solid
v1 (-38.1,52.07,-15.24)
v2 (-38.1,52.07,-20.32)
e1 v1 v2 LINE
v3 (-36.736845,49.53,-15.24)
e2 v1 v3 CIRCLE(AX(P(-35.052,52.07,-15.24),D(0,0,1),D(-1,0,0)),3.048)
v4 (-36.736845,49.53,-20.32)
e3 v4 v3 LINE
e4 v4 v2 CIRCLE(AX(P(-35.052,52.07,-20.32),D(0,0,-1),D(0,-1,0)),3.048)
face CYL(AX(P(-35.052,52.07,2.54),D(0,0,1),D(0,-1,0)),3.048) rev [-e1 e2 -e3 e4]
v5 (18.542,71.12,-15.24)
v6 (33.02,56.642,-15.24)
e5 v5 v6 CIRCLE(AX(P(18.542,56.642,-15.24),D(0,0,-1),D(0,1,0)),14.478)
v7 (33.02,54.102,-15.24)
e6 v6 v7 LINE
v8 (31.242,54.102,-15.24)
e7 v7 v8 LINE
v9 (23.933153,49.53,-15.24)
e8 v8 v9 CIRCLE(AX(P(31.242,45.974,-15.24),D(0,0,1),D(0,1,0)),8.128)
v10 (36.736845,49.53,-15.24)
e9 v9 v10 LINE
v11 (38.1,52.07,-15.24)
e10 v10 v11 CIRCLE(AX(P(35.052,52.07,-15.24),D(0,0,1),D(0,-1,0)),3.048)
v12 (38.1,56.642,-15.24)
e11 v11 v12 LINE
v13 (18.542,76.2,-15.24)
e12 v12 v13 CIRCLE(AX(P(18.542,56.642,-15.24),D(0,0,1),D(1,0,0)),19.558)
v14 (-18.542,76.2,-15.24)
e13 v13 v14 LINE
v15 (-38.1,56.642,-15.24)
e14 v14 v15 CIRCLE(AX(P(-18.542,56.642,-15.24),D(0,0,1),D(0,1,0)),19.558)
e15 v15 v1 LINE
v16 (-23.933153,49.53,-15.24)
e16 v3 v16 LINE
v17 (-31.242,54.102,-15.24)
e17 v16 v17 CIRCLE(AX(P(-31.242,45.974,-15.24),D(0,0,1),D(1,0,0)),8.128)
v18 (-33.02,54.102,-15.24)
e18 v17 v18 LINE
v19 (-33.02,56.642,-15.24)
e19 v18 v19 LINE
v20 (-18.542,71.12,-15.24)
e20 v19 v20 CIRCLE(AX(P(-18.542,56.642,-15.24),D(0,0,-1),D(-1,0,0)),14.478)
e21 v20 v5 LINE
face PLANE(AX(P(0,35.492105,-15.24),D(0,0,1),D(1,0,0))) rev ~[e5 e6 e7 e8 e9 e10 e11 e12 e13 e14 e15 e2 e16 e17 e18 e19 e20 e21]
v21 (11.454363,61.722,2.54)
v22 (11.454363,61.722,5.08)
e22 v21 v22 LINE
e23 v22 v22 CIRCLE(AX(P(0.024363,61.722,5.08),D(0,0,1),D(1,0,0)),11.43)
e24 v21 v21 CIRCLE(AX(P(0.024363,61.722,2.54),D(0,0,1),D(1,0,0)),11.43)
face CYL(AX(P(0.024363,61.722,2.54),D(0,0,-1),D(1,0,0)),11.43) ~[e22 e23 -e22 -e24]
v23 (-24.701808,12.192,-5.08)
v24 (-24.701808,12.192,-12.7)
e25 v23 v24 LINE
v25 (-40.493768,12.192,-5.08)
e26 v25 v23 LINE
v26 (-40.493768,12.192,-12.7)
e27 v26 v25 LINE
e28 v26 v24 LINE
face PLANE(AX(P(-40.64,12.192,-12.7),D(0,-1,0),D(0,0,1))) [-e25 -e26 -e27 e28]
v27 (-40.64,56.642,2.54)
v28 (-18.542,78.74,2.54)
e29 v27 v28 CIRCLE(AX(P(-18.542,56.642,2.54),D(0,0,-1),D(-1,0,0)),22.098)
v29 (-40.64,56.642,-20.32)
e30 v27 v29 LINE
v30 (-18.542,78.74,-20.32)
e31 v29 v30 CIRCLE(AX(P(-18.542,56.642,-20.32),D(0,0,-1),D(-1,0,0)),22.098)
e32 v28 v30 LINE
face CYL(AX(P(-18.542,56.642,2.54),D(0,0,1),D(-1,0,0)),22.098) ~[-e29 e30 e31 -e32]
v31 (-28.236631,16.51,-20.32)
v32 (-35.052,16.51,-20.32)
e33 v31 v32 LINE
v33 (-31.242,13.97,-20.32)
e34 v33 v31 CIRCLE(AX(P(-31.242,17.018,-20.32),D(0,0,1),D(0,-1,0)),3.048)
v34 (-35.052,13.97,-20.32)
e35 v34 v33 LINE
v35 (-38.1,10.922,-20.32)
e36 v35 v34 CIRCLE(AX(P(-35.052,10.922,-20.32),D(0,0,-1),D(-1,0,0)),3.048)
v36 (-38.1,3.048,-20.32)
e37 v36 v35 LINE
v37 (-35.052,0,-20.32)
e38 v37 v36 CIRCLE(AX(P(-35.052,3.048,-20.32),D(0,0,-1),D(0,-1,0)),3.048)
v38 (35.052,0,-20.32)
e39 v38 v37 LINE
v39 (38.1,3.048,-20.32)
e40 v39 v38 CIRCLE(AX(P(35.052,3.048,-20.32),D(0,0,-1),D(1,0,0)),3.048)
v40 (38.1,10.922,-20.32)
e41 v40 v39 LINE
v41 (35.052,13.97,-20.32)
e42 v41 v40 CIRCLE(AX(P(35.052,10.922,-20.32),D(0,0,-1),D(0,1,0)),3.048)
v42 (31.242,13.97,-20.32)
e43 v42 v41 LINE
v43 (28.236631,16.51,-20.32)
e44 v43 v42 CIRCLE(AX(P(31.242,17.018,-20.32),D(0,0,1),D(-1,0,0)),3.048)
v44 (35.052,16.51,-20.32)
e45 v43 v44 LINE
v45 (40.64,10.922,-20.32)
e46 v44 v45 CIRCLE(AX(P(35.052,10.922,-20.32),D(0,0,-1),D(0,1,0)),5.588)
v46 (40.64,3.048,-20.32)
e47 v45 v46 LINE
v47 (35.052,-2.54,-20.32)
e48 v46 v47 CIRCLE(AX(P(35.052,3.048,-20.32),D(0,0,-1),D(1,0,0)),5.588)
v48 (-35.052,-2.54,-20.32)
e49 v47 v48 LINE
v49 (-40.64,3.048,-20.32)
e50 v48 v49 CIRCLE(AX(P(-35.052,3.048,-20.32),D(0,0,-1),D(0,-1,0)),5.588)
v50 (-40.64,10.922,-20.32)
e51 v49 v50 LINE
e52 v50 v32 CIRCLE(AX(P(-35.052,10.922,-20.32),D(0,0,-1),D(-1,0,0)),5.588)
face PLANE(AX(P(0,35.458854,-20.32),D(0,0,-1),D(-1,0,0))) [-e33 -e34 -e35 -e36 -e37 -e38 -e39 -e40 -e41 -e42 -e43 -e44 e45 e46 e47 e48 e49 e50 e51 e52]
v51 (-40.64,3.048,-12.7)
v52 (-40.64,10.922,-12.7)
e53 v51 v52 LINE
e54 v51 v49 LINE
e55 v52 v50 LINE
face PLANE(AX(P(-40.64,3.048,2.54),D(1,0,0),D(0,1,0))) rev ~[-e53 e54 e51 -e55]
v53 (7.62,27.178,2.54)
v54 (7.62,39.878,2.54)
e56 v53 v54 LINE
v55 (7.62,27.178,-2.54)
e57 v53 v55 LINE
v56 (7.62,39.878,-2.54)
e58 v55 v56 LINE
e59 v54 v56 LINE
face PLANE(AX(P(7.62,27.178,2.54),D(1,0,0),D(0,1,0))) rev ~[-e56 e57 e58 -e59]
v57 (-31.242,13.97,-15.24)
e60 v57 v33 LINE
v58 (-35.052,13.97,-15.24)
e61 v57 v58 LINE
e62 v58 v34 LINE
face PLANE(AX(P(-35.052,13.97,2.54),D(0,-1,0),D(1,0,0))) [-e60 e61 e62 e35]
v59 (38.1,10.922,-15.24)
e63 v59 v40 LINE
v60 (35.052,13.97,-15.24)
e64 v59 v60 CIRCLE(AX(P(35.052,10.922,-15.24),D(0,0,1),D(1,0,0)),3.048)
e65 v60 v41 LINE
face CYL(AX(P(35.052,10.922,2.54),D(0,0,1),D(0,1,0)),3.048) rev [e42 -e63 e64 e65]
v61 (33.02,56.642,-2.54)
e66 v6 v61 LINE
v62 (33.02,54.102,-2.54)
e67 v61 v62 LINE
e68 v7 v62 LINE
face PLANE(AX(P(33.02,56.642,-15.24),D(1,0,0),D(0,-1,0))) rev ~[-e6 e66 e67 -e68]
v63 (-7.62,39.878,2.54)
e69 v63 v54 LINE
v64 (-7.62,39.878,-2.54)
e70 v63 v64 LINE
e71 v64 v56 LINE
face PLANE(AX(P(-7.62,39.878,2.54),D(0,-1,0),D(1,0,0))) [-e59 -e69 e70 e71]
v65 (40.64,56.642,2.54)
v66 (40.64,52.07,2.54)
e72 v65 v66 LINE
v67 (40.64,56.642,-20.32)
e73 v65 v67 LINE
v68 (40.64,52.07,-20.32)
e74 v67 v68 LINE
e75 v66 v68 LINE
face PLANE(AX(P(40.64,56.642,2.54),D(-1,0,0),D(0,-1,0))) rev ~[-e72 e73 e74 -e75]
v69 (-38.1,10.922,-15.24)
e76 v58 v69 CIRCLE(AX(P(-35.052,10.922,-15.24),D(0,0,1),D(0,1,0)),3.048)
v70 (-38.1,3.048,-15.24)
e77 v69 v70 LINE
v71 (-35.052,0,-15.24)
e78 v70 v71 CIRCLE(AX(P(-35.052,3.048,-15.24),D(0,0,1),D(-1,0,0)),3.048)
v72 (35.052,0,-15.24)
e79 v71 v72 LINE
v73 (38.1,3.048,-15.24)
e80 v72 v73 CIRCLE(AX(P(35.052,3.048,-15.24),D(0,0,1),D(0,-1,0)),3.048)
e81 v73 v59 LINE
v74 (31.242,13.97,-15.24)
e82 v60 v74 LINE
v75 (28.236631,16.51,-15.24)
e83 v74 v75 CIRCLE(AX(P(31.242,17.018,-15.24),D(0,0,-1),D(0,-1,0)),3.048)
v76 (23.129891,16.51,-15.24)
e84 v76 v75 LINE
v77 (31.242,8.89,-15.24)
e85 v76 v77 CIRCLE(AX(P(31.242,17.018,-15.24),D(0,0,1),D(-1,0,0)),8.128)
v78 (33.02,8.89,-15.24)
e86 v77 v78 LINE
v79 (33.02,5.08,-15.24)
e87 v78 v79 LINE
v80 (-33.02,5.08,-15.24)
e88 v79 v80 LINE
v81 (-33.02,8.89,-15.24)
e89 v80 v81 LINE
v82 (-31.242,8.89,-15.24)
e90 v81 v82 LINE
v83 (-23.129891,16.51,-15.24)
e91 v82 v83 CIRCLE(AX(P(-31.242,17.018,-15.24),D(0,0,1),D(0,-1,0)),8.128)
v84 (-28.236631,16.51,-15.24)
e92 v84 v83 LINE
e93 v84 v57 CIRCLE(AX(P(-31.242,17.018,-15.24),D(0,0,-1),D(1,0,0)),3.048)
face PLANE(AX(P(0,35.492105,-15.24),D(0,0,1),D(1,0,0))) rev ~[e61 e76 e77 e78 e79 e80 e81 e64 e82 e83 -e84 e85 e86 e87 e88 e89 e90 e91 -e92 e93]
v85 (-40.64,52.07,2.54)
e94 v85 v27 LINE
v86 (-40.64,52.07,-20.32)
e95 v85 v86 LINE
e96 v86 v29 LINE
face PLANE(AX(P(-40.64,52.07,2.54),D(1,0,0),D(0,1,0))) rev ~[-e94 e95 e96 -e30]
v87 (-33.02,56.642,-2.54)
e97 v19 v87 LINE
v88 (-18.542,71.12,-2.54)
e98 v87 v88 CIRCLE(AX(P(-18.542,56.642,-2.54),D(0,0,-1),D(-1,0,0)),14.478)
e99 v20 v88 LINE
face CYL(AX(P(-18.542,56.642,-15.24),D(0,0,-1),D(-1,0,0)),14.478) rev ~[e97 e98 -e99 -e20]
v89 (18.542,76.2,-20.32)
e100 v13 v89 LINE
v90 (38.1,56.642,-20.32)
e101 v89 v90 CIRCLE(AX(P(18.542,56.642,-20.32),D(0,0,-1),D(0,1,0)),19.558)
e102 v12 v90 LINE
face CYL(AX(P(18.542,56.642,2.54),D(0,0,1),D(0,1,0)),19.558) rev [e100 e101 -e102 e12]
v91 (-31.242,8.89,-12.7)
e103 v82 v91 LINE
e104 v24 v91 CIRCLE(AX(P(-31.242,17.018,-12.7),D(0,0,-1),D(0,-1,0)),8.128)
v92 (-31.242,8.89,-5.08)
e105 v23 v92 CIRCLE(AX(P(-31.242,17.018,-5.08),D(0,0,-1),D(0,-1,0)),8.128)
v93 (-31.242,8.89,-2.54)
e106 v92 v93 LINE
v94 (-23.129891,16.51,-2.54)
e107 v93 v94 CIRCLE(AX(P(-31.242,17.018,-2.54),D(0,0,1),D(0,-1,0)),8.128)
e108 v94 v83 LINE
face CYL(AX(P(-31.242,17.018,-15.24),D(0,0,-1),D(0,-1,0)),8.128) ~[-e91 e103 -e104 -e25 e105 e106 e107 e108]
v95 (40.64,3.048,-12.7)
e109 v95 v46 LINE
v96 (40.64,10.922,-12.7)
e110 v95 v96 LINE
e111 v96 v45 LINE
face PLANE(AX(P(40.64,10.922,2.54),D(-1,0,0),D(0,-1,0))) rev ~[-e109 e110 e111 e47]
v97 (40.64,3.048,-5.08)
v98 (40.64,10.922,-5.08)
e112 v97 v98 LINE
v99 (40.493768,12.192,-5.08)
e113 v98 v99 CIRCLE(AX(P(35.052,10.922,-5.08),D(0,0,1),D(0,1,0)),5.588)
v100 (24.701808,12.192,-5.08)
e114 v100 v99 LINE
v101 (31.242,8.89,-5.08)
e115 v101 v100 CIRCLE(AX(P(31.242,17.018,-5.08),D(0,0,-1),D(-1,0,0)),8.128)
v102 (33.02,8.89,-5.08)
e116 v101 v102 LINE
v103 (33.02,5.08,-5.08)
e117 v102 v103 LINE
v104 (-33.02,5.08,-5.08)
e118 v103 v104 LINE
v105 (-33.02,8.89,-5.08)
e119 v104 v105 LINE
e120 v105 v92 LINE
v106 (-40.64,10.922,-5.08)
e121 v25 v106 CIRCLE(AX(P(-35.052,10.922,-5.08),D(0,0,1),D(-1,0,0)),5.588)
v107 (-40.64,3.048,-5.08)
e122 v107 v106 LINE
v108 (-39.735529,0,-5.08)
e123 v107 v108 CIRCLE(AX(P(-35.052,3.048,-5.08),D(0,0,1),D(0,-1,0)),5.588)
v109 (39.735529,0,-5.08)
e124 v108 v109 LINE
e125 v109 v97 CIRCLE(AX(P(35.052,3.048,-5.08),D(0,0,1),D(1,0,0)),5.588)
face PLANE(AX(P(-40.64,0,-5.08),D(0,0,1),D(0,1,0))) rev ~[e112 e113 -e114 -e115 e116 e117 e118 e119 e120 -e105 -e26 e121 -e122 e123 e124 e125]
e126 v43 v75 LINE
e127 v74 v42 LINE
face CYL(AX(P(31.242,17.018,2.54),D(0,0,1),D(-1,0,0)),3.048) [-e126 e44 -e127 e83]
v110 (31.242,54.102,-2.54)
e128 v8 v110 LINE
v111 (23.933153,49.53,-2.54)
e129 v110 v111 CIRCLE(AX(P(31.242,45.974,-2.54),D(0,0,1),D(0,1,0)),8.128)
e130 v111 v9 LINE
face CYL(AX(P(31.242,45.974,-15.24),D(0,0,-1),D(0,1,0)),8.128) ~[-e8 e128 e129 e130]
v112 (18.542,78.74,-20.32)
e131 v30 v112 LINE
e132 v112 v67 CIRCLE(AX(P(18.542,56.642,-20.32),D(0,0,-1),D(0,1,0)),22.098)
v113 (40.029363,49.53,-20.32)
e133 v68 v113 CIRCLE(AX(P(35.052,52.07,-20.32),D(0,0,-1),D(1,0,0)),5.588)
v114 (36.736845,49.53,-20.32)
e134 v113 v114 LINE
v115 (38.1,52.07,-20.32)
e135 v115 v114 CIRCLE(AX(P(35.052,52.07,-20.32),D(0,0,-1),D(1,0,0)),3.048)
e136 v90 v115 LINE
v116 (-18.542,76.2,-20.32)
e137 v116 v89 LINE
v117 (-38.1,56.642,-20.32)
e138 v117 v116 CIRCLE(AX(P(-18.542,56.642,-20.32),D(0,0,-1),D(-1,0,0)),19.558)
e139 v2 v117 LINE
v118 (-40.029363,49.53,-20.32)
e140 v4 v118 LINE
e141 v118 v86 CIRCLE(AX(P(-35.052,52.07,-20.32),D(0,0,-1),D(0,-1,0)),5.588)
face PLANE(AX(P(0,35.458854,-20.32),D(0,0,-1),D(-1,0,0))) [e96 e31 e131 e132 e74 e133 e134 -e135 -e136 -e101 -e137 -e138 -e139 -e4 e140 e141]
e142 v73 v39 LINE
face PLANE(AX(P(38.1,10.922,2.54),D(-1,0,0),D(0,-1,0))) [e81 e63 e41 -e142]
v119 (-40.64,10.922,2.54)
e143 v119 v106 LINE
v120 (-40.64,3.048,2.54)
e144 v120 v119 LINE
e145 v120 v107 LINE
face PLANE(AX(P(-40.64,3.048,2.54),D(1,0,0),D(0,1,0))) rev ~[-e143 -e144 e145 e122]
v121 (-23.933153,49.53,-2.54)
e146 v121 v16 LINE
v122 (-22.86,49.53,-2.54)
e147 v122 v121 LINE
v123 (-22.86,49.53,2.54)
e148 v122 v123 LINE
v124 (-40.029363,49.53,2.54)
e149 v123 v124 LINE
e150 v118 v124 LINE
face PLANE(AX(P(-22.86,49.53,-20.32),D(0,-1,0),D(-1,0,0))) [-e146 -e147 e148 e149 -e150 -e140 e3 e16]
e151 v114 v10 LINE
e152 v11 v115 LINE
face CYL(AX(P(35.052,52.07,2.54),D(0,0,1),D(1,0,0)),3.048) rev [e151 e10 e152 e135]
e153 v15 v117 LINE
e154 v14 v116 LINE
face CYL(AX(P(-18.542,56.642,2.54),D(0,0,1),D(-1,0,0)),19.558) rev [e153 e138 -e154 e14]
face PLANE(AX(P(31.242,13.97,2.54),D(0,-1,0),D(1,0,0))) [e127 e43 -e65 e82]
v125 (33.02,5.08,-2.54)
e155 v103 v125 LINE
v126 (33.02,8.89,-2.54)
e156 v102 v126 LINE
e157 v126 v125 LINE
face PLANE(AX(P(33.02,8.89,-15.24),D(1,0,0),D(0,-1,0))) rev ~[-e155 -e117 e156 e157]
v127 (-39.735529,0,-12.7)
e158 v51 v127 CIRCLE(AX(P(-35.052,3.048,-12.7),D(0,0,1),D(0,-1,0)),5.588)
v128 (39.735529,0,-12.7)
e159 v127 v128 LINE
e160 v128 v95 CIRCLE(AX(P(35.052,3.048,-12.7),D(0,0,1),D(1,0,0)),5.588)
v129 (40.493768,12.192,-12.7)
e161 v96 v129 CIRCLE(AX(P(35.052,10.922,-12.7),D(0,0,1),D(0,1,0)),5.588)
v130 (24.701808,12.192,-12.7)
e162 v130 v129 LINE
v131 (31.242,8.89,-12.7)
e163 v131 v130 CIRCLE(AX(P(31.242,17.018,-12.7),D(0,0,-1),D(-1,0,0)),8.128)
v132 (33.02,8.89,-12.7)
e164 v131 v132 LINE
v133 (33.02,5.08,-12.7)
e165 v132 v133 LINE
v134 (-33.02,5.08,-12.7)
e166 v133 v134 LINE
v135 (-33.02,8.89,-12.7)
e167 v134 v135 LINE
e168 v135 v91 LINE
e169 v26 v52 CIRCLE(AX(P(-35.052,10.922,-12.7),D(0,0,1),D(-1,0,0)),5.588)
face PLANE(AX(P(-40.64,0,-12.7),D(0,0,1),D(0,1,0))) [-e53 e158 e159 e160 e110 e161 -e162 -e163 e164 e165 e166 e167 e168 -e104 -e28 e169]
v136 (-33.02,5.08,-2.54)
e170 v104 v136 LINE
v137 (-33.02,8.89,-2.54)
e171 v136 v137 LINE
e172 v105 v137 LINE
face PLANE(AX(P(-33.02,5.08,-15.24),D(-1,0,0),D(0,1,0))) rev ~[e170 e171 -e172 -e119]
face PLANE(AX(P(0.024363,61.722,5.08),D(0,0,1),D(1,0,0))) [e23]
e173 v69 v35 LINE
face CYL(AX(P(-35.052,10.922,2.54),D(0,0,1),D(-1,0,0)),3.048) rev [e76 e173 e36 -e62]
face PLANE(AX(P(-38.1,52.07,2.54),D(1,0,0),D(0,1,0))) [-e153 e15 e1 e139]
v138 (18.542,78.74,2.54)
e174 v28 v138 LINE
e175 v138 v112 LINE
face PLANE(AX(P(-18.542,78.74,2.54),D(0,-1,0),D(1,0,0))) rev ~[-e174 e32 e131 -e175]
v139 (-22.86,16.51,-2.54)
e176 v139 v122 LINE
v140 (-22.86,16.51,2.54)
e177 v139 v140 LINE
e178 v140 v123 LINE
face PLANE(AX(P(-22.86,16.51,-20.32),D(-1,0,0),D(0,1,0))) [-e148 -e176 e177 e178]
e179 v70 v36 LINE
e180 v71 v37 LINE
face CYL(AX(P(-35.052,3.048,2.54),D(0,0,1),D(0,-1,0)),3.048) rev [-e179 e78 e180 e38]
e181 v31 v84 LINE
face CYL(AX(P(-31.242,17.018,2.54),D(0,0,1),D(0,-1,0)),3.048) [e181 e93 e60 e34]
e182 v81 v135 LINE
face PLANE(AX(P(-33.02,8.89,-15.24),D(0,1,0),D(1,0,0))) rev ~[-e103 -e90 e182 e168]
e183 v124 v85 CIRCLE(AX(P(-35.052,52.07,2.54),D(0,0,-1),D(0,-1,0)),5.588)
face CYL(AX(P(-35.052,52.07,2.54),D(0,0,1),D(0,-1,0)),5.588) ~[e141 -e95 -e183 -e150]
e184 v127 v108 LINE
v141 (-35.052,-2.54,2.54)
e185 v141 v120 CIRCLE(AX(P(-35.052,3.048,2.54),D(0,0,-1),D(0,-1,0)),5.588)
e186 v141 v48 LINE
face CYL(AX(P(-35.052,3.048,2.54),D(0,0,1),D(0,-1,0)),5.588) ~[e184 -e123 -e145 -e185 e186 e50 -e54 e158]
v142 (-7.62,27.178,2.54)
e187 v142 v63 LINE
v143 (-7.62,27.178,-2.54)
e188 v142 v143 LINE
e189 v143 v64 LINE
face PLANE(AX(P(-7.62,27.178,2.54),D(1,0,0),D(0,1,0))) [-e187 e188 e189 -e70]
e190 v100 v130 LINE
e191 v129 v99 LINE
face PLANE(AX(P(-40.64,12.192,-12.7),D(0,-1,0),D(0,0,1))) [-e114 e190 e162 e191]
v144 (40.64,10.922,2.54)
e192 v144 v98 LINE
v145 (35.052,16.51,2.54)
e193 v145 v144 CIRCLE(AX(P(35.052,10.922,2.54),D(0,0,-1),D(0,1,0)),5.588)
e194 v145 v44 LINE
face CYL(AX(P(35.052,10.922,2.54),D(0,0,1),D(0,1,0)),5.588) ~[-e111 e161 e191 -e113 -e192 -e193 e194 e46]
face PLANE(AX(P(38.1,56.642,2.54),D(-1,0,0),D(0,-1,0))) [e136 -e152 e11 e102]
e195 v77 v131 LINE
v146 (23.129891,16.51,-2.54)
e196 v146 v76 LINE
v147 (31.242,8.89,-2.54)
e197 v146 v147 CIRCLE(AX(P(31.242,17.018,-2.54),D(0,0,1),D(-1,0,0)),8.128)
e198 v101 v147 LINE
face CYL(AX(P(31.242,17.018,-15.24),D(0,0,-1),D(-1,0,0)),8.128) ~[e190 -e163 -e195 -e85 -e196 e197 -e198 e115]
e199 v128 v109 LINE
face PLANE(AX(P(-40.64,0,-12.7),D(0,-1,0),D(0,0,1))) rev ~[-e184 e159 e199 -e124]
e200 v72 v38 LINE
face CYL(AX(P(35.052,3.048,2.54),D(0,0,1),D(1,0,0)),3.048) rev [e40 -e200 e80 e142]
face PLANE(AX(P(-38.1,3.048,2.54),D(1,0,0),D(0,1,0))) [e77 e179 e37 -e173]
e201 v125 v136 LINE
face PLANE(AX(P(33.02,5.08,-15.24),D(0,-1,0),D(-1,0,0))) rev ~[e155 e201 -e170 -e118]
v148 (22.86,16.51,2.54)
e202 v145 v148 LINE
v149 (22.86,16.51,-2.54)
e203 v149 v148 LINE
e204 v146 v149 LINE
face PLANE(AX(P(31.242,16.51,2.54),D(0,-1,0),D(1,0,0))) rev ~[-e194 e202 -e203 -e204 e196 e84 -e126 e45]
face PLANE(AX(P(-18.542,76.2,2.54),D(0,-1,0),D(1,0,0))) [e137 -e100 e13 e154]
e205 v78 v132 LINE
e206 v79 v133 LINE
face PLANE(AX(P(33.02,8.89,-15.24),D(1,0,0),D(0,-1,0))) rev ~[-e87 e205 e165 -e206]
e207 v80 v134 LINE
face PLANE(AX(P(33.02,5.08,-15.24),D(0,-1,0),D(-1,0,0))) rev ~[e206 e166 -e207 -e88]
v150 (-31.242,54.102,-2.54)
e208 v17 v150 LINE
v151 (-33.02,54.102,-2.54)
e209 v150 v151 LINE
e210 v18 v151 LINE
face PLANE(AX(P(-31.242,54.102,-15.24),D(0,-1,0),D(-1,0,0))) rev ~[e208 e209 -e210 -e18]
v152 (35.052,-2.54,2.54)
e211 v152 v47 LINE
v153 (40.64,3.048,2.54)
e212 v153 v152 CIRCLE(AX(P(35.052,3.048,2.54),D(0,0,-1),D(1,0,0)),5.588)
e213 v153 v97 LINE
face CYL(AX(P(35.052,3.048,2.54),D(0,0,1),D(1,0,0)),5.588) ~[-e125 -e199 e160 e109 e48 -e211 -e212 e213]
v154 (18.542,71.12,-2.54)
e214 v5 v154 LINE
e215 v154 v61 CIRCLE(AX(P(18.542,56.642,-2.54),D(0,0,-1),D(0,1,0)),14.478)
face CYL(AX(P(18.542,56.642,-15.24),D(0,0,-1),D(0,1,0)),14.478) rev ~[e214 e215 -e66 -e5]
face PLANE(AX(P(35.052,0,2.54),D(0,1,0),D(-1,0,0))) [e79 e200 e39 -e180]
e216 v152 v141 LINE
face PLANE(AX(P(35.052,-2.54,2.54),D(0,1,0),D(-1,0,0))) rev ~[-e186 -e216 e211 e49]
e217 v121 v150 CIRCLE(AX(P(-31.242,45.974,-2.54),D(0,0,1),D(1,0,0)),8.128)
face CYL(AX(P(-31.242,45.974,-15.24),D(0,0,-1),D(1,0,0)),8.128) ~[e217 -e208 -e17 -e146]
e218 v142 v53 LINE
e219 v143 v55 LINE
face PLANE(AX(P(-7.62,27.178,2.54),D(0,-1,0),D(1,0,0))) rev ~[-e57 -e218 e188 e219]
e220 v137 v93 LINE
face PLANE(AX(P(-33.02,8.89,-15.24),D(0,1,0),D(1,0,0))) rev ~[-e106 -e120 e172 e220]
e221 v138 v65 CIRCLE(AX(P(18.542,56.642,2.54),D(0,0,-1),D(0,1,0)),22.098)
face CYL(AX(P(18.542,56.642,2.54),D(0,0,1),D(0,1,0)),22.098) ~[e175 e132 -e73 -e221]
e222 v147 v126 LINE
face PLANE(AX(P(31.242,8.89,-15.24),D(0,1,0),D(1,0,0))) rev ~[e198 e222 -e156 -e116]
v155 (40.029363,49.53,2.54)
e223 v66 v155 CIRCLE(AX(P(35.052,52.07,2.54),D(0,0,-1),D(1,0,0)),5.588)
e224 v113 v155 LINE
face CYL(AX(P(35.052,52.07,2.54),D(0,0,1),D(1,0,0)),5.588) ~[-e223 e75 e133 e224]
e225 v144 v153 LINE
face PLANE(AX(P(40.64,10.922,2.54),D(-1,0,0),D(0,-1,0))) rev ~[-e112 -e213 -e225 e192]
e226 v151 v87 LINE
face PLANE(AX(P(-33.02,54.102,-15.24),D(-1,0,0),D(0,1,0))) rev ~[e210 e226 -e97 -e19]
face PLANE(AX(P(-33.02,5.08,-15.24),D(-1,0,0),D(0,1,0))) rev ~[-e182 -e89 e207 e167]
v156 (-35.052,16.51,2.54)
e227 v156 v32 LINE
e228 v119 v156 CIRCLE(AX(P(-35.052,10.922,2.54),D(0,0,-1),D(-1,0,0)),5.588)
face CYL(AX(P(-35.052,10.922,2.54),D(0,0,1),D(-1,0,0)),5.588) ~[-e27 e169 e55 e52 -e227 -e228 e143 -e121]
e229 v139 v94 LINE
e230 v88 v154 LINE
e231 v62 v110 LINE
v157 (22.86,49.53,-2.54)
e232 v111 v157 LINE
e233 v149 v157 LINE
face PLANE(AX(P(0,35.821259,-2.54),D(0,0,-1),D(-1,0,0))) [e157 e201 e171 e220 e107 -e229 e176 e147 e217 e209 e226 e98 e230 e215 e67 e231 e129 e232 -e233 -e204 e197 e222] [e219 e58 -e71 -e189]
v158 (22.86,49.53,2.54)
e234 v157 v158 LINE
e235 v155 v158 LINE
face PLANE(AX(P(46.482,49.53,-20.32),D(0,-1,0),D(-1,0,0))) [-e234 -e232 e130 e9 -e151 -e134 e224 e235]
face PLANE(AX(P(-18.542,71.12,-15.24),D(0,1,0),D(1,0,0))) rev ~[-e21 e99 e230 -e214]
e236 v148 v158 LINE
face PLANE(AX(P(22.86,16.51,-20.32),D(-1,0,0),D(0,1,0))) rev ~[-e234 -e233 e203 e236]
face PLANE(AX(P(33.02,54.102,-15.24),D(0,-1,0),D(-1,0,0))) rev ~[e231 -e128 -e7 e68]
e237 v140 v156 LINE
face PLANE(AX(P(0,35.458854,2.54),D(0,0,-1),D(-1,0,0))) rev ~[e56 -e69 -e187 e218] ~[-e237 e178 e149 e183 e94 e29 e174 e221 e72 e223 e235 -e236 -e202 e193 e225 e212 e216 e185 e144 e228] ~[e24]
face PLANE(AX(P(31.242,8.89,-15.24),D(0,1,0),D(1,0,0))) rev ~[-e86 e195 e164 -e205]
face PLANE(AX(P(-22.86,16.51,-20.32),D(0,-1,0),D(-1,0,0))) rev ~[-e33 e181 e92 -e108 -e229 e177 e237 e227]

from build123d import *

# Parameters (mm, degrees)
BOSS_EXTRUDE1_DEPTH      = 17.78
CUT_EXTRUDE1_DEPTH       = 12.7
BOSS_EXTRUDE2_DEPTH      = 5.08
BOSS_EXTRUDE2_DEPTH_BACK = 17.78
CUT_EXTRUDE2_REACH       = 93.511
SKETCH8_W                = 23.622
SKETCH8_H                = 33.02
CUT_EXTRUDE3_REACH       = 116.975
SKETCH9_W                = 7.62
SKETCH9_H                = 12.192
SKETCH10_W               = 15.24
SKETCH10_H               = 12.7
CUT_EXTRUDE4_DEPTH       = 5.08
SKETCH11_R               = 11.43
BOSS_EXTRUDE3_DEPTH      = 2.54


with BuildPart() as part:
    # Sketch1 → Boss-Extrude1 (new body)
    with BuildSketch(Plane.XY.offset(2.54)):
        with BuildLine():
            Line((-35.052, 0), (35.052, 0))
            ThreePointArc((35.052, 0), (37.207261469, 0.892738531), (38.1, 3.048))
            Line((38.1, 3.048), (38.1, 10.922))
            ThreePointArc((38.1, 10.922), (37.207261469, 13.077261469), (35.052, 13.97))
            Line((35.052, 13.97), (31.242, 13.97))
            ThreePointArc((31.242, 13.97), (29.086738531, 14.862738531), (28.194, 17.018))
            Line((28.194, 17.018), (28.194, 45.974))
            ThreePointArc((28.194, 45.974), (29.086738531, 48.129261469), (31.242, 49.022))
            Line((31.242, 49.022), (35.052, 49.022))
            ThreePointArc((35.052, 49.022), (37.207261469, 49.914738531), (38.1, 52.07))
            Line((38.1, 52.07), (38.1, 56.642))
            ThreePointArc((38.1, 56.642), (32.371594426, 70.471594426), (18.542, 76.2))
            Line((18.542, 76.2), (-18.542, 76.2))
            ThreePointArc((-18.542, 76.2), (-32.371594426, 70.471594426), (-38.1, 56.642))
            Line((-38.1, 56.642), (-38.1, 52.07))
            ThreePointArc((-38.1, 52.07), (-37.207261469, 49.914738531), (-35.052, 49.022))
            Line((-35.052, 49.022), (-31.242, 49.022))
            ThreePointArc((-31.242, 49.022), (-29.086738531, 48.129261469), (-28.194, 45.974))
            Line((-28.194, 45.974), (-28.194, 17.018))
            ThreePointArc((-28.194, 17.018), (-29.086738531, 14.862738531), (-31.242, 13.97))
            Line((-31.242, 13.97), (-35.052, 13.97))
            ThreePointArc((-35.052, 13.97), (-37.207261469, 13.077261469), (-38.1, 10.922))
            Line((-38.1, 10.922), (-38.1, 3.048))
            ThreePointArc((-38.1, 3.048), (-37.207261469, 0.892738531), (-35.052, 0))
        make_face()
    extrude(amount=-BOSS_EXTRUDE1_DEPTH)

    # Sketch2 → Cut-Extrude1 (cut)
    with BuildSketch(Plane(origin=(0, 0, -15.24), x_dir=(-1, 0, 0), z_dir=(0, 0, -1))):
        with BuildLine():
            Line((33.02, 54.102), (33.02, 56.642))
            ThreePointArc((33.02, 56.642), (28.779491978, 66.879491978), (18.542, 71.12))
            Line((18.542, 71.12), (-18.542, 71.12))
            ThreePointArc((-18.542, 71.12), (-28.779491978, 66.879491978), (-33.02, 56.642))
            Line((-33.02, 56.642), (-33.02, 54.102))
            Line((-33.02, 54.102), (-31.242, 54.102))
            ThreePointArc((-31.242, 54.102), (-25.494636083, 51.721363917), (-23.114, 45.974))
            Line((-23.114, 45.974), (-23.114, 17.018))
            ThreePointArc((-23.114, 17.018), (-25.494636083, 11.270636083), (-31.242, 8.89))
            Line((-31.242, 8.89), (-33.02, 8.89))
            Line((-33.02, 8.89), (-33.02, 5.08))
            Line((-33.02, 5.08), (33.02, 5.08))
            Line((33.02, 5.08), (33.02, 8.89))
            Line((33.02, 8.89), (31.242, 8.89))
            ThreePointArc((31.242, 8.89), (25.494636083, 11.270636083), (23.114, 17.018))
            Line((23.114, 17.018), (23.114, 45.974))
            ThreePointArc((23.114, 45.974), (25.494636083, 51.721363917), (31.242, 54.102))
            Line((31.242, 54.102), (33.02, 54.102))
        make_face()
    extrude(amount=-CUT_EXTRUDE1_DEPTH, mode=Mode.SUBTRACT)

    # Sketch7 → Boss-Extrude2 (add, two sides: drawn at the far end of the back side and taken through both)
    with BuildSketch(Plane(origin=(0, 0, -15.24), x_dir=(-1, 0, 0), z_dir=(0, 0, -1)).offset(-BOSS_EXTRUDE2_DEPTH_BACK)):
        with BuildLine():
            Line((18.542, 78.74), (-18.542, 78.74))
            ThreePointArc((-18.542, 78.74), (-34.167645651, 72.267645651), (-40.64, 56.642))
            Line((-40.64, 56.642), (-40.64, 52.07))
            ThreePointArc((-40.64, 52.07), (-39.003312693, 48.118687307), (-35.052, 46.482))
            Line((-35.052, 46.482), (-31.242, 46.482))
            ThreePointArc((-31.242, 46.482), (-30.882789755, 46.333210245), (-30.734, 45.974))
            Line((-30.734, 45.974), (-30.734, 17.018))
            ThreePointArc((-30.734, 17.018), (-30.882789755, 16.658789755), (-31.242, 16.51))
            Line((-31.242, 16.51), (-35.052, 16.51))
            ThreePointArc((-35.052, 16.51), (-39.003312693, 14.873312693), (-40.64, 10.922))
            Line((-40.64, 10.922), (-40.64, 3.048))
            ThreePointArc((-40.64, 3.048), (-39.003312693, -0.903312693), (-35.052, -2.54))
            Line((-35.052, -2.54), (35.052, -2.54))
            ThreePointArc((35.052, -2.54), (39.003312693, -0.903312693), (40.64, 3.048))
            Line((40.64, 3.048), (40.64, 10.922))
            ThreePointArc((40.64, 10.922), (39.003312693, 14.873312693), (35.052, 16.51))
            Line((35.052, 16.51), (31.242, 16.51))
            ThreePointArc((31.242, 16.51), (30.882789755, 16.658789755), (30.734, 17.018))
            Line((30.734, 17.018), (30.734, 45.974))
            ThreePointArc((30.734, 45.974), (30.882789755, 46.333210245), (31.242, 46.482))
            Line((31.242, 46.482), (35.052, 46.482))
            ThreePointArc((35.052, 46.482), (39.003312693, 48.118687307), (40.64, 52.07))
            Line((40.64, 52.07), (40.64, 56.642))
            ThreePointArc((40.64, 56.642), (34.167645651, 72.267645651), (18.542, 78.74))
        make_face()
        with BuildLine():
            ThreePointArc((-38.1, 52.07), (-37.207261469, 49.914738531), (-35.052, 49.022))
            Line((-35.052, 49.022), (-31.242, 49.022))
            ThreePointArc((-31.242, 49.022), (-29.086738531, 48.129261469), (-28.194, 45.974))
            Line((-28.194, 45.974), (-28.194, 17.018))
            ThreePointArc((-28.194, 17.018), (-29.086738531, 14.862738531), (-31.242, 13.97))
            Line((-31.242, 13.97), (-35.052, 13.97))
            ThreePointArc((-35.052, 13.97), (-37.207261469, 13.077261469), (-38.1, 10.922))
            Line((-38.1, 10.922), (-38.1, 3.048))
            ThreePointArc((-38.1, 3.048), (-37.207261469, 0.892738531), (-35.052, 0))
            Line((-35.052, 0), (35.052, 0))
            ThreePointArc((35.052, 0), (37.207261469, 0.892738531), (38.1, 3.048))
            Line((38.1, 3.048), (38.1, 10.922))
            ThreePointArc((38.1, 10.922), (37.207261469, 13.077261469), (35.052, 13.97))
            Line((35.052, 13.97), (31.242, 13.97))
            ThreePointArc((31.242, 13.97), (29.086738531, 14.862738531), (28.194, 17.018))
            Line((28.194, 17.018), (28.194, 45.974))
            ThreePointArc((28.194, 45.974), (29.086738531, 48.129261469), (31.242, 49.022))
            Line((31.242, 49.022), (35.052, 49.022))
            ThreePointArc((35.052, 49.022), (37.207261469, 49.914738531), (38.1, 52.07))
            Line((38.1, 52.07), (38.1, 56.642))
            ThreePointArc((38.1, 56.642), (32.371594426, 70.471594426), (18.542, 76.2))
            Line((18.542, 76.2), (-18.542, 76.2))
            ThreePointArc((-18.542, 76.2), (-32.371594426, 70.471594426), (-38.1, 56.642))
            Line((-38.1, 56.642), (-38.1, 52.07))
        make_face(mode=Mode.SUBTRACT)
    extrude(amount=BOSS_EXTRUDE2_DEPTH + BOSS_EXTRUDE2_DEPTH_BACK)

    # Cut-Extrude2: up to this face of the body (flat: up to its plane)
    cut_extrude2_end = Plane(part.part.faces().sort_by_distance((0, 37.604047464, 2.54))[0])
    # Sketch8 → Cut-Extrude2 (cut, up to the picked face)
    with BuildSketch(Plane(origin=(0, 0, -20.32), x_dir=(-1, 0, 0), z_dir=(0, 0, -1)), mode=Mode.PRIVATE) as cut_extrude2_sk1:
        with Locations((-34.671, 33.02)):
            Rectangle(SKETCH8_W, SKETCH8_H)
    cut_extrude2_tool1 = split(extrude(cut_extrude2_sk1.sketch, amount=-CUT_EXTRUDE2_REACH, mode=Mode.PRIVATE), bisect_by=cut_extrude2_end, keep=Keep.BOTH, mode=Mode.PRIVATE)
    # Sketch8 → Cut-Extrude2 (cut, up to the picked face)
    with BuildSketch(Plane(origin=(0, 0, -20.32), x_dir=(-1, 0, 0), z_dir=(0, 0, -1)), mode=Mode.PRIVATE) as cut_extrude2_sk2:
        with Locations((34.671, 33.02)):
            Rectangle(SKETCH8_W, SKETCH8_H)
    cut_extrude2_tool2 = split(extrude(cut_extrude2_sk2.sketch, amount=-CUT_EXTRUDE2_REACH, mode=Mode.PRIVATE), bisect_by=cut_extrude2_end, keep=Keep.BOTH, mode=Mode.PRIVATE)
    add(cut_extrude2_tool1.solids().sort_by(Axis((34.671, 33.02, -20.32), (0, 0, 1)))[0], mode=Mode.SUBTRACT)
    add(cut_extrude2_tool2.solids().sort_by(Axis((-34.671, 33.02, -20.32), (0, 0, 1)))[0], mode=Mode.SUBTRACT)

    # Cut-Extrude3: up to this face of the body (flat: up to its plane)
    cut_extrude3_end = Plane(part.part.faces().sort_by_distance((40.64, 6.985, -8.89))[0])
    # Sketch9 → Cut-Extrude3 (cut, up to the picked face)
    with BuildSketch(Plane.ZY.offset(40.64), mode=Mode.PRIVATE) as cut_extrude3_sk1:
        with Locations((-8.89, 6.096)):
            Rectangle(SKETCH9_W, SKETCH9_H)
    cut_extrude3_tool1 = split(extrude(cut_extrude3_sk1.sketch, amount=-CUT_EXTRUDE3_REACH, mode=Mode.PRIVATE), bisect_by=cut_extrude3_end, keep=Keep.BOTH, mode=Mode.PRIVATE)
    add(cut_extrude3_tool1.solids().sort_by(Axis((-40.64, 6.096, -8.89), (1, 0, 0)))[0], mode=Mode.SUBTRACT)

    # Sketch10 → Cut-Extrude4 (cut)
    with BuildSketch(Plane.XY.offset(2.54)):
        with Locations((0, 33.528)):
            Rectangle(SKETCH10_W, SKETCH10_H)
    extrude(amount=-CUT_EXTRUDE4_DEPTH, mode=Mode.SUBTRACT)

    # Sketch11 → Boss-Extrude3 (add)
    with BuildSketch(Plane.XY.offset(2.54)):
        with Locations((0.024363157, 61.722)):
            Circle(SKETCH11_R)
    extrude(amount=BOSS_EXTRUDE3_DEPTH)


solid = part.part
